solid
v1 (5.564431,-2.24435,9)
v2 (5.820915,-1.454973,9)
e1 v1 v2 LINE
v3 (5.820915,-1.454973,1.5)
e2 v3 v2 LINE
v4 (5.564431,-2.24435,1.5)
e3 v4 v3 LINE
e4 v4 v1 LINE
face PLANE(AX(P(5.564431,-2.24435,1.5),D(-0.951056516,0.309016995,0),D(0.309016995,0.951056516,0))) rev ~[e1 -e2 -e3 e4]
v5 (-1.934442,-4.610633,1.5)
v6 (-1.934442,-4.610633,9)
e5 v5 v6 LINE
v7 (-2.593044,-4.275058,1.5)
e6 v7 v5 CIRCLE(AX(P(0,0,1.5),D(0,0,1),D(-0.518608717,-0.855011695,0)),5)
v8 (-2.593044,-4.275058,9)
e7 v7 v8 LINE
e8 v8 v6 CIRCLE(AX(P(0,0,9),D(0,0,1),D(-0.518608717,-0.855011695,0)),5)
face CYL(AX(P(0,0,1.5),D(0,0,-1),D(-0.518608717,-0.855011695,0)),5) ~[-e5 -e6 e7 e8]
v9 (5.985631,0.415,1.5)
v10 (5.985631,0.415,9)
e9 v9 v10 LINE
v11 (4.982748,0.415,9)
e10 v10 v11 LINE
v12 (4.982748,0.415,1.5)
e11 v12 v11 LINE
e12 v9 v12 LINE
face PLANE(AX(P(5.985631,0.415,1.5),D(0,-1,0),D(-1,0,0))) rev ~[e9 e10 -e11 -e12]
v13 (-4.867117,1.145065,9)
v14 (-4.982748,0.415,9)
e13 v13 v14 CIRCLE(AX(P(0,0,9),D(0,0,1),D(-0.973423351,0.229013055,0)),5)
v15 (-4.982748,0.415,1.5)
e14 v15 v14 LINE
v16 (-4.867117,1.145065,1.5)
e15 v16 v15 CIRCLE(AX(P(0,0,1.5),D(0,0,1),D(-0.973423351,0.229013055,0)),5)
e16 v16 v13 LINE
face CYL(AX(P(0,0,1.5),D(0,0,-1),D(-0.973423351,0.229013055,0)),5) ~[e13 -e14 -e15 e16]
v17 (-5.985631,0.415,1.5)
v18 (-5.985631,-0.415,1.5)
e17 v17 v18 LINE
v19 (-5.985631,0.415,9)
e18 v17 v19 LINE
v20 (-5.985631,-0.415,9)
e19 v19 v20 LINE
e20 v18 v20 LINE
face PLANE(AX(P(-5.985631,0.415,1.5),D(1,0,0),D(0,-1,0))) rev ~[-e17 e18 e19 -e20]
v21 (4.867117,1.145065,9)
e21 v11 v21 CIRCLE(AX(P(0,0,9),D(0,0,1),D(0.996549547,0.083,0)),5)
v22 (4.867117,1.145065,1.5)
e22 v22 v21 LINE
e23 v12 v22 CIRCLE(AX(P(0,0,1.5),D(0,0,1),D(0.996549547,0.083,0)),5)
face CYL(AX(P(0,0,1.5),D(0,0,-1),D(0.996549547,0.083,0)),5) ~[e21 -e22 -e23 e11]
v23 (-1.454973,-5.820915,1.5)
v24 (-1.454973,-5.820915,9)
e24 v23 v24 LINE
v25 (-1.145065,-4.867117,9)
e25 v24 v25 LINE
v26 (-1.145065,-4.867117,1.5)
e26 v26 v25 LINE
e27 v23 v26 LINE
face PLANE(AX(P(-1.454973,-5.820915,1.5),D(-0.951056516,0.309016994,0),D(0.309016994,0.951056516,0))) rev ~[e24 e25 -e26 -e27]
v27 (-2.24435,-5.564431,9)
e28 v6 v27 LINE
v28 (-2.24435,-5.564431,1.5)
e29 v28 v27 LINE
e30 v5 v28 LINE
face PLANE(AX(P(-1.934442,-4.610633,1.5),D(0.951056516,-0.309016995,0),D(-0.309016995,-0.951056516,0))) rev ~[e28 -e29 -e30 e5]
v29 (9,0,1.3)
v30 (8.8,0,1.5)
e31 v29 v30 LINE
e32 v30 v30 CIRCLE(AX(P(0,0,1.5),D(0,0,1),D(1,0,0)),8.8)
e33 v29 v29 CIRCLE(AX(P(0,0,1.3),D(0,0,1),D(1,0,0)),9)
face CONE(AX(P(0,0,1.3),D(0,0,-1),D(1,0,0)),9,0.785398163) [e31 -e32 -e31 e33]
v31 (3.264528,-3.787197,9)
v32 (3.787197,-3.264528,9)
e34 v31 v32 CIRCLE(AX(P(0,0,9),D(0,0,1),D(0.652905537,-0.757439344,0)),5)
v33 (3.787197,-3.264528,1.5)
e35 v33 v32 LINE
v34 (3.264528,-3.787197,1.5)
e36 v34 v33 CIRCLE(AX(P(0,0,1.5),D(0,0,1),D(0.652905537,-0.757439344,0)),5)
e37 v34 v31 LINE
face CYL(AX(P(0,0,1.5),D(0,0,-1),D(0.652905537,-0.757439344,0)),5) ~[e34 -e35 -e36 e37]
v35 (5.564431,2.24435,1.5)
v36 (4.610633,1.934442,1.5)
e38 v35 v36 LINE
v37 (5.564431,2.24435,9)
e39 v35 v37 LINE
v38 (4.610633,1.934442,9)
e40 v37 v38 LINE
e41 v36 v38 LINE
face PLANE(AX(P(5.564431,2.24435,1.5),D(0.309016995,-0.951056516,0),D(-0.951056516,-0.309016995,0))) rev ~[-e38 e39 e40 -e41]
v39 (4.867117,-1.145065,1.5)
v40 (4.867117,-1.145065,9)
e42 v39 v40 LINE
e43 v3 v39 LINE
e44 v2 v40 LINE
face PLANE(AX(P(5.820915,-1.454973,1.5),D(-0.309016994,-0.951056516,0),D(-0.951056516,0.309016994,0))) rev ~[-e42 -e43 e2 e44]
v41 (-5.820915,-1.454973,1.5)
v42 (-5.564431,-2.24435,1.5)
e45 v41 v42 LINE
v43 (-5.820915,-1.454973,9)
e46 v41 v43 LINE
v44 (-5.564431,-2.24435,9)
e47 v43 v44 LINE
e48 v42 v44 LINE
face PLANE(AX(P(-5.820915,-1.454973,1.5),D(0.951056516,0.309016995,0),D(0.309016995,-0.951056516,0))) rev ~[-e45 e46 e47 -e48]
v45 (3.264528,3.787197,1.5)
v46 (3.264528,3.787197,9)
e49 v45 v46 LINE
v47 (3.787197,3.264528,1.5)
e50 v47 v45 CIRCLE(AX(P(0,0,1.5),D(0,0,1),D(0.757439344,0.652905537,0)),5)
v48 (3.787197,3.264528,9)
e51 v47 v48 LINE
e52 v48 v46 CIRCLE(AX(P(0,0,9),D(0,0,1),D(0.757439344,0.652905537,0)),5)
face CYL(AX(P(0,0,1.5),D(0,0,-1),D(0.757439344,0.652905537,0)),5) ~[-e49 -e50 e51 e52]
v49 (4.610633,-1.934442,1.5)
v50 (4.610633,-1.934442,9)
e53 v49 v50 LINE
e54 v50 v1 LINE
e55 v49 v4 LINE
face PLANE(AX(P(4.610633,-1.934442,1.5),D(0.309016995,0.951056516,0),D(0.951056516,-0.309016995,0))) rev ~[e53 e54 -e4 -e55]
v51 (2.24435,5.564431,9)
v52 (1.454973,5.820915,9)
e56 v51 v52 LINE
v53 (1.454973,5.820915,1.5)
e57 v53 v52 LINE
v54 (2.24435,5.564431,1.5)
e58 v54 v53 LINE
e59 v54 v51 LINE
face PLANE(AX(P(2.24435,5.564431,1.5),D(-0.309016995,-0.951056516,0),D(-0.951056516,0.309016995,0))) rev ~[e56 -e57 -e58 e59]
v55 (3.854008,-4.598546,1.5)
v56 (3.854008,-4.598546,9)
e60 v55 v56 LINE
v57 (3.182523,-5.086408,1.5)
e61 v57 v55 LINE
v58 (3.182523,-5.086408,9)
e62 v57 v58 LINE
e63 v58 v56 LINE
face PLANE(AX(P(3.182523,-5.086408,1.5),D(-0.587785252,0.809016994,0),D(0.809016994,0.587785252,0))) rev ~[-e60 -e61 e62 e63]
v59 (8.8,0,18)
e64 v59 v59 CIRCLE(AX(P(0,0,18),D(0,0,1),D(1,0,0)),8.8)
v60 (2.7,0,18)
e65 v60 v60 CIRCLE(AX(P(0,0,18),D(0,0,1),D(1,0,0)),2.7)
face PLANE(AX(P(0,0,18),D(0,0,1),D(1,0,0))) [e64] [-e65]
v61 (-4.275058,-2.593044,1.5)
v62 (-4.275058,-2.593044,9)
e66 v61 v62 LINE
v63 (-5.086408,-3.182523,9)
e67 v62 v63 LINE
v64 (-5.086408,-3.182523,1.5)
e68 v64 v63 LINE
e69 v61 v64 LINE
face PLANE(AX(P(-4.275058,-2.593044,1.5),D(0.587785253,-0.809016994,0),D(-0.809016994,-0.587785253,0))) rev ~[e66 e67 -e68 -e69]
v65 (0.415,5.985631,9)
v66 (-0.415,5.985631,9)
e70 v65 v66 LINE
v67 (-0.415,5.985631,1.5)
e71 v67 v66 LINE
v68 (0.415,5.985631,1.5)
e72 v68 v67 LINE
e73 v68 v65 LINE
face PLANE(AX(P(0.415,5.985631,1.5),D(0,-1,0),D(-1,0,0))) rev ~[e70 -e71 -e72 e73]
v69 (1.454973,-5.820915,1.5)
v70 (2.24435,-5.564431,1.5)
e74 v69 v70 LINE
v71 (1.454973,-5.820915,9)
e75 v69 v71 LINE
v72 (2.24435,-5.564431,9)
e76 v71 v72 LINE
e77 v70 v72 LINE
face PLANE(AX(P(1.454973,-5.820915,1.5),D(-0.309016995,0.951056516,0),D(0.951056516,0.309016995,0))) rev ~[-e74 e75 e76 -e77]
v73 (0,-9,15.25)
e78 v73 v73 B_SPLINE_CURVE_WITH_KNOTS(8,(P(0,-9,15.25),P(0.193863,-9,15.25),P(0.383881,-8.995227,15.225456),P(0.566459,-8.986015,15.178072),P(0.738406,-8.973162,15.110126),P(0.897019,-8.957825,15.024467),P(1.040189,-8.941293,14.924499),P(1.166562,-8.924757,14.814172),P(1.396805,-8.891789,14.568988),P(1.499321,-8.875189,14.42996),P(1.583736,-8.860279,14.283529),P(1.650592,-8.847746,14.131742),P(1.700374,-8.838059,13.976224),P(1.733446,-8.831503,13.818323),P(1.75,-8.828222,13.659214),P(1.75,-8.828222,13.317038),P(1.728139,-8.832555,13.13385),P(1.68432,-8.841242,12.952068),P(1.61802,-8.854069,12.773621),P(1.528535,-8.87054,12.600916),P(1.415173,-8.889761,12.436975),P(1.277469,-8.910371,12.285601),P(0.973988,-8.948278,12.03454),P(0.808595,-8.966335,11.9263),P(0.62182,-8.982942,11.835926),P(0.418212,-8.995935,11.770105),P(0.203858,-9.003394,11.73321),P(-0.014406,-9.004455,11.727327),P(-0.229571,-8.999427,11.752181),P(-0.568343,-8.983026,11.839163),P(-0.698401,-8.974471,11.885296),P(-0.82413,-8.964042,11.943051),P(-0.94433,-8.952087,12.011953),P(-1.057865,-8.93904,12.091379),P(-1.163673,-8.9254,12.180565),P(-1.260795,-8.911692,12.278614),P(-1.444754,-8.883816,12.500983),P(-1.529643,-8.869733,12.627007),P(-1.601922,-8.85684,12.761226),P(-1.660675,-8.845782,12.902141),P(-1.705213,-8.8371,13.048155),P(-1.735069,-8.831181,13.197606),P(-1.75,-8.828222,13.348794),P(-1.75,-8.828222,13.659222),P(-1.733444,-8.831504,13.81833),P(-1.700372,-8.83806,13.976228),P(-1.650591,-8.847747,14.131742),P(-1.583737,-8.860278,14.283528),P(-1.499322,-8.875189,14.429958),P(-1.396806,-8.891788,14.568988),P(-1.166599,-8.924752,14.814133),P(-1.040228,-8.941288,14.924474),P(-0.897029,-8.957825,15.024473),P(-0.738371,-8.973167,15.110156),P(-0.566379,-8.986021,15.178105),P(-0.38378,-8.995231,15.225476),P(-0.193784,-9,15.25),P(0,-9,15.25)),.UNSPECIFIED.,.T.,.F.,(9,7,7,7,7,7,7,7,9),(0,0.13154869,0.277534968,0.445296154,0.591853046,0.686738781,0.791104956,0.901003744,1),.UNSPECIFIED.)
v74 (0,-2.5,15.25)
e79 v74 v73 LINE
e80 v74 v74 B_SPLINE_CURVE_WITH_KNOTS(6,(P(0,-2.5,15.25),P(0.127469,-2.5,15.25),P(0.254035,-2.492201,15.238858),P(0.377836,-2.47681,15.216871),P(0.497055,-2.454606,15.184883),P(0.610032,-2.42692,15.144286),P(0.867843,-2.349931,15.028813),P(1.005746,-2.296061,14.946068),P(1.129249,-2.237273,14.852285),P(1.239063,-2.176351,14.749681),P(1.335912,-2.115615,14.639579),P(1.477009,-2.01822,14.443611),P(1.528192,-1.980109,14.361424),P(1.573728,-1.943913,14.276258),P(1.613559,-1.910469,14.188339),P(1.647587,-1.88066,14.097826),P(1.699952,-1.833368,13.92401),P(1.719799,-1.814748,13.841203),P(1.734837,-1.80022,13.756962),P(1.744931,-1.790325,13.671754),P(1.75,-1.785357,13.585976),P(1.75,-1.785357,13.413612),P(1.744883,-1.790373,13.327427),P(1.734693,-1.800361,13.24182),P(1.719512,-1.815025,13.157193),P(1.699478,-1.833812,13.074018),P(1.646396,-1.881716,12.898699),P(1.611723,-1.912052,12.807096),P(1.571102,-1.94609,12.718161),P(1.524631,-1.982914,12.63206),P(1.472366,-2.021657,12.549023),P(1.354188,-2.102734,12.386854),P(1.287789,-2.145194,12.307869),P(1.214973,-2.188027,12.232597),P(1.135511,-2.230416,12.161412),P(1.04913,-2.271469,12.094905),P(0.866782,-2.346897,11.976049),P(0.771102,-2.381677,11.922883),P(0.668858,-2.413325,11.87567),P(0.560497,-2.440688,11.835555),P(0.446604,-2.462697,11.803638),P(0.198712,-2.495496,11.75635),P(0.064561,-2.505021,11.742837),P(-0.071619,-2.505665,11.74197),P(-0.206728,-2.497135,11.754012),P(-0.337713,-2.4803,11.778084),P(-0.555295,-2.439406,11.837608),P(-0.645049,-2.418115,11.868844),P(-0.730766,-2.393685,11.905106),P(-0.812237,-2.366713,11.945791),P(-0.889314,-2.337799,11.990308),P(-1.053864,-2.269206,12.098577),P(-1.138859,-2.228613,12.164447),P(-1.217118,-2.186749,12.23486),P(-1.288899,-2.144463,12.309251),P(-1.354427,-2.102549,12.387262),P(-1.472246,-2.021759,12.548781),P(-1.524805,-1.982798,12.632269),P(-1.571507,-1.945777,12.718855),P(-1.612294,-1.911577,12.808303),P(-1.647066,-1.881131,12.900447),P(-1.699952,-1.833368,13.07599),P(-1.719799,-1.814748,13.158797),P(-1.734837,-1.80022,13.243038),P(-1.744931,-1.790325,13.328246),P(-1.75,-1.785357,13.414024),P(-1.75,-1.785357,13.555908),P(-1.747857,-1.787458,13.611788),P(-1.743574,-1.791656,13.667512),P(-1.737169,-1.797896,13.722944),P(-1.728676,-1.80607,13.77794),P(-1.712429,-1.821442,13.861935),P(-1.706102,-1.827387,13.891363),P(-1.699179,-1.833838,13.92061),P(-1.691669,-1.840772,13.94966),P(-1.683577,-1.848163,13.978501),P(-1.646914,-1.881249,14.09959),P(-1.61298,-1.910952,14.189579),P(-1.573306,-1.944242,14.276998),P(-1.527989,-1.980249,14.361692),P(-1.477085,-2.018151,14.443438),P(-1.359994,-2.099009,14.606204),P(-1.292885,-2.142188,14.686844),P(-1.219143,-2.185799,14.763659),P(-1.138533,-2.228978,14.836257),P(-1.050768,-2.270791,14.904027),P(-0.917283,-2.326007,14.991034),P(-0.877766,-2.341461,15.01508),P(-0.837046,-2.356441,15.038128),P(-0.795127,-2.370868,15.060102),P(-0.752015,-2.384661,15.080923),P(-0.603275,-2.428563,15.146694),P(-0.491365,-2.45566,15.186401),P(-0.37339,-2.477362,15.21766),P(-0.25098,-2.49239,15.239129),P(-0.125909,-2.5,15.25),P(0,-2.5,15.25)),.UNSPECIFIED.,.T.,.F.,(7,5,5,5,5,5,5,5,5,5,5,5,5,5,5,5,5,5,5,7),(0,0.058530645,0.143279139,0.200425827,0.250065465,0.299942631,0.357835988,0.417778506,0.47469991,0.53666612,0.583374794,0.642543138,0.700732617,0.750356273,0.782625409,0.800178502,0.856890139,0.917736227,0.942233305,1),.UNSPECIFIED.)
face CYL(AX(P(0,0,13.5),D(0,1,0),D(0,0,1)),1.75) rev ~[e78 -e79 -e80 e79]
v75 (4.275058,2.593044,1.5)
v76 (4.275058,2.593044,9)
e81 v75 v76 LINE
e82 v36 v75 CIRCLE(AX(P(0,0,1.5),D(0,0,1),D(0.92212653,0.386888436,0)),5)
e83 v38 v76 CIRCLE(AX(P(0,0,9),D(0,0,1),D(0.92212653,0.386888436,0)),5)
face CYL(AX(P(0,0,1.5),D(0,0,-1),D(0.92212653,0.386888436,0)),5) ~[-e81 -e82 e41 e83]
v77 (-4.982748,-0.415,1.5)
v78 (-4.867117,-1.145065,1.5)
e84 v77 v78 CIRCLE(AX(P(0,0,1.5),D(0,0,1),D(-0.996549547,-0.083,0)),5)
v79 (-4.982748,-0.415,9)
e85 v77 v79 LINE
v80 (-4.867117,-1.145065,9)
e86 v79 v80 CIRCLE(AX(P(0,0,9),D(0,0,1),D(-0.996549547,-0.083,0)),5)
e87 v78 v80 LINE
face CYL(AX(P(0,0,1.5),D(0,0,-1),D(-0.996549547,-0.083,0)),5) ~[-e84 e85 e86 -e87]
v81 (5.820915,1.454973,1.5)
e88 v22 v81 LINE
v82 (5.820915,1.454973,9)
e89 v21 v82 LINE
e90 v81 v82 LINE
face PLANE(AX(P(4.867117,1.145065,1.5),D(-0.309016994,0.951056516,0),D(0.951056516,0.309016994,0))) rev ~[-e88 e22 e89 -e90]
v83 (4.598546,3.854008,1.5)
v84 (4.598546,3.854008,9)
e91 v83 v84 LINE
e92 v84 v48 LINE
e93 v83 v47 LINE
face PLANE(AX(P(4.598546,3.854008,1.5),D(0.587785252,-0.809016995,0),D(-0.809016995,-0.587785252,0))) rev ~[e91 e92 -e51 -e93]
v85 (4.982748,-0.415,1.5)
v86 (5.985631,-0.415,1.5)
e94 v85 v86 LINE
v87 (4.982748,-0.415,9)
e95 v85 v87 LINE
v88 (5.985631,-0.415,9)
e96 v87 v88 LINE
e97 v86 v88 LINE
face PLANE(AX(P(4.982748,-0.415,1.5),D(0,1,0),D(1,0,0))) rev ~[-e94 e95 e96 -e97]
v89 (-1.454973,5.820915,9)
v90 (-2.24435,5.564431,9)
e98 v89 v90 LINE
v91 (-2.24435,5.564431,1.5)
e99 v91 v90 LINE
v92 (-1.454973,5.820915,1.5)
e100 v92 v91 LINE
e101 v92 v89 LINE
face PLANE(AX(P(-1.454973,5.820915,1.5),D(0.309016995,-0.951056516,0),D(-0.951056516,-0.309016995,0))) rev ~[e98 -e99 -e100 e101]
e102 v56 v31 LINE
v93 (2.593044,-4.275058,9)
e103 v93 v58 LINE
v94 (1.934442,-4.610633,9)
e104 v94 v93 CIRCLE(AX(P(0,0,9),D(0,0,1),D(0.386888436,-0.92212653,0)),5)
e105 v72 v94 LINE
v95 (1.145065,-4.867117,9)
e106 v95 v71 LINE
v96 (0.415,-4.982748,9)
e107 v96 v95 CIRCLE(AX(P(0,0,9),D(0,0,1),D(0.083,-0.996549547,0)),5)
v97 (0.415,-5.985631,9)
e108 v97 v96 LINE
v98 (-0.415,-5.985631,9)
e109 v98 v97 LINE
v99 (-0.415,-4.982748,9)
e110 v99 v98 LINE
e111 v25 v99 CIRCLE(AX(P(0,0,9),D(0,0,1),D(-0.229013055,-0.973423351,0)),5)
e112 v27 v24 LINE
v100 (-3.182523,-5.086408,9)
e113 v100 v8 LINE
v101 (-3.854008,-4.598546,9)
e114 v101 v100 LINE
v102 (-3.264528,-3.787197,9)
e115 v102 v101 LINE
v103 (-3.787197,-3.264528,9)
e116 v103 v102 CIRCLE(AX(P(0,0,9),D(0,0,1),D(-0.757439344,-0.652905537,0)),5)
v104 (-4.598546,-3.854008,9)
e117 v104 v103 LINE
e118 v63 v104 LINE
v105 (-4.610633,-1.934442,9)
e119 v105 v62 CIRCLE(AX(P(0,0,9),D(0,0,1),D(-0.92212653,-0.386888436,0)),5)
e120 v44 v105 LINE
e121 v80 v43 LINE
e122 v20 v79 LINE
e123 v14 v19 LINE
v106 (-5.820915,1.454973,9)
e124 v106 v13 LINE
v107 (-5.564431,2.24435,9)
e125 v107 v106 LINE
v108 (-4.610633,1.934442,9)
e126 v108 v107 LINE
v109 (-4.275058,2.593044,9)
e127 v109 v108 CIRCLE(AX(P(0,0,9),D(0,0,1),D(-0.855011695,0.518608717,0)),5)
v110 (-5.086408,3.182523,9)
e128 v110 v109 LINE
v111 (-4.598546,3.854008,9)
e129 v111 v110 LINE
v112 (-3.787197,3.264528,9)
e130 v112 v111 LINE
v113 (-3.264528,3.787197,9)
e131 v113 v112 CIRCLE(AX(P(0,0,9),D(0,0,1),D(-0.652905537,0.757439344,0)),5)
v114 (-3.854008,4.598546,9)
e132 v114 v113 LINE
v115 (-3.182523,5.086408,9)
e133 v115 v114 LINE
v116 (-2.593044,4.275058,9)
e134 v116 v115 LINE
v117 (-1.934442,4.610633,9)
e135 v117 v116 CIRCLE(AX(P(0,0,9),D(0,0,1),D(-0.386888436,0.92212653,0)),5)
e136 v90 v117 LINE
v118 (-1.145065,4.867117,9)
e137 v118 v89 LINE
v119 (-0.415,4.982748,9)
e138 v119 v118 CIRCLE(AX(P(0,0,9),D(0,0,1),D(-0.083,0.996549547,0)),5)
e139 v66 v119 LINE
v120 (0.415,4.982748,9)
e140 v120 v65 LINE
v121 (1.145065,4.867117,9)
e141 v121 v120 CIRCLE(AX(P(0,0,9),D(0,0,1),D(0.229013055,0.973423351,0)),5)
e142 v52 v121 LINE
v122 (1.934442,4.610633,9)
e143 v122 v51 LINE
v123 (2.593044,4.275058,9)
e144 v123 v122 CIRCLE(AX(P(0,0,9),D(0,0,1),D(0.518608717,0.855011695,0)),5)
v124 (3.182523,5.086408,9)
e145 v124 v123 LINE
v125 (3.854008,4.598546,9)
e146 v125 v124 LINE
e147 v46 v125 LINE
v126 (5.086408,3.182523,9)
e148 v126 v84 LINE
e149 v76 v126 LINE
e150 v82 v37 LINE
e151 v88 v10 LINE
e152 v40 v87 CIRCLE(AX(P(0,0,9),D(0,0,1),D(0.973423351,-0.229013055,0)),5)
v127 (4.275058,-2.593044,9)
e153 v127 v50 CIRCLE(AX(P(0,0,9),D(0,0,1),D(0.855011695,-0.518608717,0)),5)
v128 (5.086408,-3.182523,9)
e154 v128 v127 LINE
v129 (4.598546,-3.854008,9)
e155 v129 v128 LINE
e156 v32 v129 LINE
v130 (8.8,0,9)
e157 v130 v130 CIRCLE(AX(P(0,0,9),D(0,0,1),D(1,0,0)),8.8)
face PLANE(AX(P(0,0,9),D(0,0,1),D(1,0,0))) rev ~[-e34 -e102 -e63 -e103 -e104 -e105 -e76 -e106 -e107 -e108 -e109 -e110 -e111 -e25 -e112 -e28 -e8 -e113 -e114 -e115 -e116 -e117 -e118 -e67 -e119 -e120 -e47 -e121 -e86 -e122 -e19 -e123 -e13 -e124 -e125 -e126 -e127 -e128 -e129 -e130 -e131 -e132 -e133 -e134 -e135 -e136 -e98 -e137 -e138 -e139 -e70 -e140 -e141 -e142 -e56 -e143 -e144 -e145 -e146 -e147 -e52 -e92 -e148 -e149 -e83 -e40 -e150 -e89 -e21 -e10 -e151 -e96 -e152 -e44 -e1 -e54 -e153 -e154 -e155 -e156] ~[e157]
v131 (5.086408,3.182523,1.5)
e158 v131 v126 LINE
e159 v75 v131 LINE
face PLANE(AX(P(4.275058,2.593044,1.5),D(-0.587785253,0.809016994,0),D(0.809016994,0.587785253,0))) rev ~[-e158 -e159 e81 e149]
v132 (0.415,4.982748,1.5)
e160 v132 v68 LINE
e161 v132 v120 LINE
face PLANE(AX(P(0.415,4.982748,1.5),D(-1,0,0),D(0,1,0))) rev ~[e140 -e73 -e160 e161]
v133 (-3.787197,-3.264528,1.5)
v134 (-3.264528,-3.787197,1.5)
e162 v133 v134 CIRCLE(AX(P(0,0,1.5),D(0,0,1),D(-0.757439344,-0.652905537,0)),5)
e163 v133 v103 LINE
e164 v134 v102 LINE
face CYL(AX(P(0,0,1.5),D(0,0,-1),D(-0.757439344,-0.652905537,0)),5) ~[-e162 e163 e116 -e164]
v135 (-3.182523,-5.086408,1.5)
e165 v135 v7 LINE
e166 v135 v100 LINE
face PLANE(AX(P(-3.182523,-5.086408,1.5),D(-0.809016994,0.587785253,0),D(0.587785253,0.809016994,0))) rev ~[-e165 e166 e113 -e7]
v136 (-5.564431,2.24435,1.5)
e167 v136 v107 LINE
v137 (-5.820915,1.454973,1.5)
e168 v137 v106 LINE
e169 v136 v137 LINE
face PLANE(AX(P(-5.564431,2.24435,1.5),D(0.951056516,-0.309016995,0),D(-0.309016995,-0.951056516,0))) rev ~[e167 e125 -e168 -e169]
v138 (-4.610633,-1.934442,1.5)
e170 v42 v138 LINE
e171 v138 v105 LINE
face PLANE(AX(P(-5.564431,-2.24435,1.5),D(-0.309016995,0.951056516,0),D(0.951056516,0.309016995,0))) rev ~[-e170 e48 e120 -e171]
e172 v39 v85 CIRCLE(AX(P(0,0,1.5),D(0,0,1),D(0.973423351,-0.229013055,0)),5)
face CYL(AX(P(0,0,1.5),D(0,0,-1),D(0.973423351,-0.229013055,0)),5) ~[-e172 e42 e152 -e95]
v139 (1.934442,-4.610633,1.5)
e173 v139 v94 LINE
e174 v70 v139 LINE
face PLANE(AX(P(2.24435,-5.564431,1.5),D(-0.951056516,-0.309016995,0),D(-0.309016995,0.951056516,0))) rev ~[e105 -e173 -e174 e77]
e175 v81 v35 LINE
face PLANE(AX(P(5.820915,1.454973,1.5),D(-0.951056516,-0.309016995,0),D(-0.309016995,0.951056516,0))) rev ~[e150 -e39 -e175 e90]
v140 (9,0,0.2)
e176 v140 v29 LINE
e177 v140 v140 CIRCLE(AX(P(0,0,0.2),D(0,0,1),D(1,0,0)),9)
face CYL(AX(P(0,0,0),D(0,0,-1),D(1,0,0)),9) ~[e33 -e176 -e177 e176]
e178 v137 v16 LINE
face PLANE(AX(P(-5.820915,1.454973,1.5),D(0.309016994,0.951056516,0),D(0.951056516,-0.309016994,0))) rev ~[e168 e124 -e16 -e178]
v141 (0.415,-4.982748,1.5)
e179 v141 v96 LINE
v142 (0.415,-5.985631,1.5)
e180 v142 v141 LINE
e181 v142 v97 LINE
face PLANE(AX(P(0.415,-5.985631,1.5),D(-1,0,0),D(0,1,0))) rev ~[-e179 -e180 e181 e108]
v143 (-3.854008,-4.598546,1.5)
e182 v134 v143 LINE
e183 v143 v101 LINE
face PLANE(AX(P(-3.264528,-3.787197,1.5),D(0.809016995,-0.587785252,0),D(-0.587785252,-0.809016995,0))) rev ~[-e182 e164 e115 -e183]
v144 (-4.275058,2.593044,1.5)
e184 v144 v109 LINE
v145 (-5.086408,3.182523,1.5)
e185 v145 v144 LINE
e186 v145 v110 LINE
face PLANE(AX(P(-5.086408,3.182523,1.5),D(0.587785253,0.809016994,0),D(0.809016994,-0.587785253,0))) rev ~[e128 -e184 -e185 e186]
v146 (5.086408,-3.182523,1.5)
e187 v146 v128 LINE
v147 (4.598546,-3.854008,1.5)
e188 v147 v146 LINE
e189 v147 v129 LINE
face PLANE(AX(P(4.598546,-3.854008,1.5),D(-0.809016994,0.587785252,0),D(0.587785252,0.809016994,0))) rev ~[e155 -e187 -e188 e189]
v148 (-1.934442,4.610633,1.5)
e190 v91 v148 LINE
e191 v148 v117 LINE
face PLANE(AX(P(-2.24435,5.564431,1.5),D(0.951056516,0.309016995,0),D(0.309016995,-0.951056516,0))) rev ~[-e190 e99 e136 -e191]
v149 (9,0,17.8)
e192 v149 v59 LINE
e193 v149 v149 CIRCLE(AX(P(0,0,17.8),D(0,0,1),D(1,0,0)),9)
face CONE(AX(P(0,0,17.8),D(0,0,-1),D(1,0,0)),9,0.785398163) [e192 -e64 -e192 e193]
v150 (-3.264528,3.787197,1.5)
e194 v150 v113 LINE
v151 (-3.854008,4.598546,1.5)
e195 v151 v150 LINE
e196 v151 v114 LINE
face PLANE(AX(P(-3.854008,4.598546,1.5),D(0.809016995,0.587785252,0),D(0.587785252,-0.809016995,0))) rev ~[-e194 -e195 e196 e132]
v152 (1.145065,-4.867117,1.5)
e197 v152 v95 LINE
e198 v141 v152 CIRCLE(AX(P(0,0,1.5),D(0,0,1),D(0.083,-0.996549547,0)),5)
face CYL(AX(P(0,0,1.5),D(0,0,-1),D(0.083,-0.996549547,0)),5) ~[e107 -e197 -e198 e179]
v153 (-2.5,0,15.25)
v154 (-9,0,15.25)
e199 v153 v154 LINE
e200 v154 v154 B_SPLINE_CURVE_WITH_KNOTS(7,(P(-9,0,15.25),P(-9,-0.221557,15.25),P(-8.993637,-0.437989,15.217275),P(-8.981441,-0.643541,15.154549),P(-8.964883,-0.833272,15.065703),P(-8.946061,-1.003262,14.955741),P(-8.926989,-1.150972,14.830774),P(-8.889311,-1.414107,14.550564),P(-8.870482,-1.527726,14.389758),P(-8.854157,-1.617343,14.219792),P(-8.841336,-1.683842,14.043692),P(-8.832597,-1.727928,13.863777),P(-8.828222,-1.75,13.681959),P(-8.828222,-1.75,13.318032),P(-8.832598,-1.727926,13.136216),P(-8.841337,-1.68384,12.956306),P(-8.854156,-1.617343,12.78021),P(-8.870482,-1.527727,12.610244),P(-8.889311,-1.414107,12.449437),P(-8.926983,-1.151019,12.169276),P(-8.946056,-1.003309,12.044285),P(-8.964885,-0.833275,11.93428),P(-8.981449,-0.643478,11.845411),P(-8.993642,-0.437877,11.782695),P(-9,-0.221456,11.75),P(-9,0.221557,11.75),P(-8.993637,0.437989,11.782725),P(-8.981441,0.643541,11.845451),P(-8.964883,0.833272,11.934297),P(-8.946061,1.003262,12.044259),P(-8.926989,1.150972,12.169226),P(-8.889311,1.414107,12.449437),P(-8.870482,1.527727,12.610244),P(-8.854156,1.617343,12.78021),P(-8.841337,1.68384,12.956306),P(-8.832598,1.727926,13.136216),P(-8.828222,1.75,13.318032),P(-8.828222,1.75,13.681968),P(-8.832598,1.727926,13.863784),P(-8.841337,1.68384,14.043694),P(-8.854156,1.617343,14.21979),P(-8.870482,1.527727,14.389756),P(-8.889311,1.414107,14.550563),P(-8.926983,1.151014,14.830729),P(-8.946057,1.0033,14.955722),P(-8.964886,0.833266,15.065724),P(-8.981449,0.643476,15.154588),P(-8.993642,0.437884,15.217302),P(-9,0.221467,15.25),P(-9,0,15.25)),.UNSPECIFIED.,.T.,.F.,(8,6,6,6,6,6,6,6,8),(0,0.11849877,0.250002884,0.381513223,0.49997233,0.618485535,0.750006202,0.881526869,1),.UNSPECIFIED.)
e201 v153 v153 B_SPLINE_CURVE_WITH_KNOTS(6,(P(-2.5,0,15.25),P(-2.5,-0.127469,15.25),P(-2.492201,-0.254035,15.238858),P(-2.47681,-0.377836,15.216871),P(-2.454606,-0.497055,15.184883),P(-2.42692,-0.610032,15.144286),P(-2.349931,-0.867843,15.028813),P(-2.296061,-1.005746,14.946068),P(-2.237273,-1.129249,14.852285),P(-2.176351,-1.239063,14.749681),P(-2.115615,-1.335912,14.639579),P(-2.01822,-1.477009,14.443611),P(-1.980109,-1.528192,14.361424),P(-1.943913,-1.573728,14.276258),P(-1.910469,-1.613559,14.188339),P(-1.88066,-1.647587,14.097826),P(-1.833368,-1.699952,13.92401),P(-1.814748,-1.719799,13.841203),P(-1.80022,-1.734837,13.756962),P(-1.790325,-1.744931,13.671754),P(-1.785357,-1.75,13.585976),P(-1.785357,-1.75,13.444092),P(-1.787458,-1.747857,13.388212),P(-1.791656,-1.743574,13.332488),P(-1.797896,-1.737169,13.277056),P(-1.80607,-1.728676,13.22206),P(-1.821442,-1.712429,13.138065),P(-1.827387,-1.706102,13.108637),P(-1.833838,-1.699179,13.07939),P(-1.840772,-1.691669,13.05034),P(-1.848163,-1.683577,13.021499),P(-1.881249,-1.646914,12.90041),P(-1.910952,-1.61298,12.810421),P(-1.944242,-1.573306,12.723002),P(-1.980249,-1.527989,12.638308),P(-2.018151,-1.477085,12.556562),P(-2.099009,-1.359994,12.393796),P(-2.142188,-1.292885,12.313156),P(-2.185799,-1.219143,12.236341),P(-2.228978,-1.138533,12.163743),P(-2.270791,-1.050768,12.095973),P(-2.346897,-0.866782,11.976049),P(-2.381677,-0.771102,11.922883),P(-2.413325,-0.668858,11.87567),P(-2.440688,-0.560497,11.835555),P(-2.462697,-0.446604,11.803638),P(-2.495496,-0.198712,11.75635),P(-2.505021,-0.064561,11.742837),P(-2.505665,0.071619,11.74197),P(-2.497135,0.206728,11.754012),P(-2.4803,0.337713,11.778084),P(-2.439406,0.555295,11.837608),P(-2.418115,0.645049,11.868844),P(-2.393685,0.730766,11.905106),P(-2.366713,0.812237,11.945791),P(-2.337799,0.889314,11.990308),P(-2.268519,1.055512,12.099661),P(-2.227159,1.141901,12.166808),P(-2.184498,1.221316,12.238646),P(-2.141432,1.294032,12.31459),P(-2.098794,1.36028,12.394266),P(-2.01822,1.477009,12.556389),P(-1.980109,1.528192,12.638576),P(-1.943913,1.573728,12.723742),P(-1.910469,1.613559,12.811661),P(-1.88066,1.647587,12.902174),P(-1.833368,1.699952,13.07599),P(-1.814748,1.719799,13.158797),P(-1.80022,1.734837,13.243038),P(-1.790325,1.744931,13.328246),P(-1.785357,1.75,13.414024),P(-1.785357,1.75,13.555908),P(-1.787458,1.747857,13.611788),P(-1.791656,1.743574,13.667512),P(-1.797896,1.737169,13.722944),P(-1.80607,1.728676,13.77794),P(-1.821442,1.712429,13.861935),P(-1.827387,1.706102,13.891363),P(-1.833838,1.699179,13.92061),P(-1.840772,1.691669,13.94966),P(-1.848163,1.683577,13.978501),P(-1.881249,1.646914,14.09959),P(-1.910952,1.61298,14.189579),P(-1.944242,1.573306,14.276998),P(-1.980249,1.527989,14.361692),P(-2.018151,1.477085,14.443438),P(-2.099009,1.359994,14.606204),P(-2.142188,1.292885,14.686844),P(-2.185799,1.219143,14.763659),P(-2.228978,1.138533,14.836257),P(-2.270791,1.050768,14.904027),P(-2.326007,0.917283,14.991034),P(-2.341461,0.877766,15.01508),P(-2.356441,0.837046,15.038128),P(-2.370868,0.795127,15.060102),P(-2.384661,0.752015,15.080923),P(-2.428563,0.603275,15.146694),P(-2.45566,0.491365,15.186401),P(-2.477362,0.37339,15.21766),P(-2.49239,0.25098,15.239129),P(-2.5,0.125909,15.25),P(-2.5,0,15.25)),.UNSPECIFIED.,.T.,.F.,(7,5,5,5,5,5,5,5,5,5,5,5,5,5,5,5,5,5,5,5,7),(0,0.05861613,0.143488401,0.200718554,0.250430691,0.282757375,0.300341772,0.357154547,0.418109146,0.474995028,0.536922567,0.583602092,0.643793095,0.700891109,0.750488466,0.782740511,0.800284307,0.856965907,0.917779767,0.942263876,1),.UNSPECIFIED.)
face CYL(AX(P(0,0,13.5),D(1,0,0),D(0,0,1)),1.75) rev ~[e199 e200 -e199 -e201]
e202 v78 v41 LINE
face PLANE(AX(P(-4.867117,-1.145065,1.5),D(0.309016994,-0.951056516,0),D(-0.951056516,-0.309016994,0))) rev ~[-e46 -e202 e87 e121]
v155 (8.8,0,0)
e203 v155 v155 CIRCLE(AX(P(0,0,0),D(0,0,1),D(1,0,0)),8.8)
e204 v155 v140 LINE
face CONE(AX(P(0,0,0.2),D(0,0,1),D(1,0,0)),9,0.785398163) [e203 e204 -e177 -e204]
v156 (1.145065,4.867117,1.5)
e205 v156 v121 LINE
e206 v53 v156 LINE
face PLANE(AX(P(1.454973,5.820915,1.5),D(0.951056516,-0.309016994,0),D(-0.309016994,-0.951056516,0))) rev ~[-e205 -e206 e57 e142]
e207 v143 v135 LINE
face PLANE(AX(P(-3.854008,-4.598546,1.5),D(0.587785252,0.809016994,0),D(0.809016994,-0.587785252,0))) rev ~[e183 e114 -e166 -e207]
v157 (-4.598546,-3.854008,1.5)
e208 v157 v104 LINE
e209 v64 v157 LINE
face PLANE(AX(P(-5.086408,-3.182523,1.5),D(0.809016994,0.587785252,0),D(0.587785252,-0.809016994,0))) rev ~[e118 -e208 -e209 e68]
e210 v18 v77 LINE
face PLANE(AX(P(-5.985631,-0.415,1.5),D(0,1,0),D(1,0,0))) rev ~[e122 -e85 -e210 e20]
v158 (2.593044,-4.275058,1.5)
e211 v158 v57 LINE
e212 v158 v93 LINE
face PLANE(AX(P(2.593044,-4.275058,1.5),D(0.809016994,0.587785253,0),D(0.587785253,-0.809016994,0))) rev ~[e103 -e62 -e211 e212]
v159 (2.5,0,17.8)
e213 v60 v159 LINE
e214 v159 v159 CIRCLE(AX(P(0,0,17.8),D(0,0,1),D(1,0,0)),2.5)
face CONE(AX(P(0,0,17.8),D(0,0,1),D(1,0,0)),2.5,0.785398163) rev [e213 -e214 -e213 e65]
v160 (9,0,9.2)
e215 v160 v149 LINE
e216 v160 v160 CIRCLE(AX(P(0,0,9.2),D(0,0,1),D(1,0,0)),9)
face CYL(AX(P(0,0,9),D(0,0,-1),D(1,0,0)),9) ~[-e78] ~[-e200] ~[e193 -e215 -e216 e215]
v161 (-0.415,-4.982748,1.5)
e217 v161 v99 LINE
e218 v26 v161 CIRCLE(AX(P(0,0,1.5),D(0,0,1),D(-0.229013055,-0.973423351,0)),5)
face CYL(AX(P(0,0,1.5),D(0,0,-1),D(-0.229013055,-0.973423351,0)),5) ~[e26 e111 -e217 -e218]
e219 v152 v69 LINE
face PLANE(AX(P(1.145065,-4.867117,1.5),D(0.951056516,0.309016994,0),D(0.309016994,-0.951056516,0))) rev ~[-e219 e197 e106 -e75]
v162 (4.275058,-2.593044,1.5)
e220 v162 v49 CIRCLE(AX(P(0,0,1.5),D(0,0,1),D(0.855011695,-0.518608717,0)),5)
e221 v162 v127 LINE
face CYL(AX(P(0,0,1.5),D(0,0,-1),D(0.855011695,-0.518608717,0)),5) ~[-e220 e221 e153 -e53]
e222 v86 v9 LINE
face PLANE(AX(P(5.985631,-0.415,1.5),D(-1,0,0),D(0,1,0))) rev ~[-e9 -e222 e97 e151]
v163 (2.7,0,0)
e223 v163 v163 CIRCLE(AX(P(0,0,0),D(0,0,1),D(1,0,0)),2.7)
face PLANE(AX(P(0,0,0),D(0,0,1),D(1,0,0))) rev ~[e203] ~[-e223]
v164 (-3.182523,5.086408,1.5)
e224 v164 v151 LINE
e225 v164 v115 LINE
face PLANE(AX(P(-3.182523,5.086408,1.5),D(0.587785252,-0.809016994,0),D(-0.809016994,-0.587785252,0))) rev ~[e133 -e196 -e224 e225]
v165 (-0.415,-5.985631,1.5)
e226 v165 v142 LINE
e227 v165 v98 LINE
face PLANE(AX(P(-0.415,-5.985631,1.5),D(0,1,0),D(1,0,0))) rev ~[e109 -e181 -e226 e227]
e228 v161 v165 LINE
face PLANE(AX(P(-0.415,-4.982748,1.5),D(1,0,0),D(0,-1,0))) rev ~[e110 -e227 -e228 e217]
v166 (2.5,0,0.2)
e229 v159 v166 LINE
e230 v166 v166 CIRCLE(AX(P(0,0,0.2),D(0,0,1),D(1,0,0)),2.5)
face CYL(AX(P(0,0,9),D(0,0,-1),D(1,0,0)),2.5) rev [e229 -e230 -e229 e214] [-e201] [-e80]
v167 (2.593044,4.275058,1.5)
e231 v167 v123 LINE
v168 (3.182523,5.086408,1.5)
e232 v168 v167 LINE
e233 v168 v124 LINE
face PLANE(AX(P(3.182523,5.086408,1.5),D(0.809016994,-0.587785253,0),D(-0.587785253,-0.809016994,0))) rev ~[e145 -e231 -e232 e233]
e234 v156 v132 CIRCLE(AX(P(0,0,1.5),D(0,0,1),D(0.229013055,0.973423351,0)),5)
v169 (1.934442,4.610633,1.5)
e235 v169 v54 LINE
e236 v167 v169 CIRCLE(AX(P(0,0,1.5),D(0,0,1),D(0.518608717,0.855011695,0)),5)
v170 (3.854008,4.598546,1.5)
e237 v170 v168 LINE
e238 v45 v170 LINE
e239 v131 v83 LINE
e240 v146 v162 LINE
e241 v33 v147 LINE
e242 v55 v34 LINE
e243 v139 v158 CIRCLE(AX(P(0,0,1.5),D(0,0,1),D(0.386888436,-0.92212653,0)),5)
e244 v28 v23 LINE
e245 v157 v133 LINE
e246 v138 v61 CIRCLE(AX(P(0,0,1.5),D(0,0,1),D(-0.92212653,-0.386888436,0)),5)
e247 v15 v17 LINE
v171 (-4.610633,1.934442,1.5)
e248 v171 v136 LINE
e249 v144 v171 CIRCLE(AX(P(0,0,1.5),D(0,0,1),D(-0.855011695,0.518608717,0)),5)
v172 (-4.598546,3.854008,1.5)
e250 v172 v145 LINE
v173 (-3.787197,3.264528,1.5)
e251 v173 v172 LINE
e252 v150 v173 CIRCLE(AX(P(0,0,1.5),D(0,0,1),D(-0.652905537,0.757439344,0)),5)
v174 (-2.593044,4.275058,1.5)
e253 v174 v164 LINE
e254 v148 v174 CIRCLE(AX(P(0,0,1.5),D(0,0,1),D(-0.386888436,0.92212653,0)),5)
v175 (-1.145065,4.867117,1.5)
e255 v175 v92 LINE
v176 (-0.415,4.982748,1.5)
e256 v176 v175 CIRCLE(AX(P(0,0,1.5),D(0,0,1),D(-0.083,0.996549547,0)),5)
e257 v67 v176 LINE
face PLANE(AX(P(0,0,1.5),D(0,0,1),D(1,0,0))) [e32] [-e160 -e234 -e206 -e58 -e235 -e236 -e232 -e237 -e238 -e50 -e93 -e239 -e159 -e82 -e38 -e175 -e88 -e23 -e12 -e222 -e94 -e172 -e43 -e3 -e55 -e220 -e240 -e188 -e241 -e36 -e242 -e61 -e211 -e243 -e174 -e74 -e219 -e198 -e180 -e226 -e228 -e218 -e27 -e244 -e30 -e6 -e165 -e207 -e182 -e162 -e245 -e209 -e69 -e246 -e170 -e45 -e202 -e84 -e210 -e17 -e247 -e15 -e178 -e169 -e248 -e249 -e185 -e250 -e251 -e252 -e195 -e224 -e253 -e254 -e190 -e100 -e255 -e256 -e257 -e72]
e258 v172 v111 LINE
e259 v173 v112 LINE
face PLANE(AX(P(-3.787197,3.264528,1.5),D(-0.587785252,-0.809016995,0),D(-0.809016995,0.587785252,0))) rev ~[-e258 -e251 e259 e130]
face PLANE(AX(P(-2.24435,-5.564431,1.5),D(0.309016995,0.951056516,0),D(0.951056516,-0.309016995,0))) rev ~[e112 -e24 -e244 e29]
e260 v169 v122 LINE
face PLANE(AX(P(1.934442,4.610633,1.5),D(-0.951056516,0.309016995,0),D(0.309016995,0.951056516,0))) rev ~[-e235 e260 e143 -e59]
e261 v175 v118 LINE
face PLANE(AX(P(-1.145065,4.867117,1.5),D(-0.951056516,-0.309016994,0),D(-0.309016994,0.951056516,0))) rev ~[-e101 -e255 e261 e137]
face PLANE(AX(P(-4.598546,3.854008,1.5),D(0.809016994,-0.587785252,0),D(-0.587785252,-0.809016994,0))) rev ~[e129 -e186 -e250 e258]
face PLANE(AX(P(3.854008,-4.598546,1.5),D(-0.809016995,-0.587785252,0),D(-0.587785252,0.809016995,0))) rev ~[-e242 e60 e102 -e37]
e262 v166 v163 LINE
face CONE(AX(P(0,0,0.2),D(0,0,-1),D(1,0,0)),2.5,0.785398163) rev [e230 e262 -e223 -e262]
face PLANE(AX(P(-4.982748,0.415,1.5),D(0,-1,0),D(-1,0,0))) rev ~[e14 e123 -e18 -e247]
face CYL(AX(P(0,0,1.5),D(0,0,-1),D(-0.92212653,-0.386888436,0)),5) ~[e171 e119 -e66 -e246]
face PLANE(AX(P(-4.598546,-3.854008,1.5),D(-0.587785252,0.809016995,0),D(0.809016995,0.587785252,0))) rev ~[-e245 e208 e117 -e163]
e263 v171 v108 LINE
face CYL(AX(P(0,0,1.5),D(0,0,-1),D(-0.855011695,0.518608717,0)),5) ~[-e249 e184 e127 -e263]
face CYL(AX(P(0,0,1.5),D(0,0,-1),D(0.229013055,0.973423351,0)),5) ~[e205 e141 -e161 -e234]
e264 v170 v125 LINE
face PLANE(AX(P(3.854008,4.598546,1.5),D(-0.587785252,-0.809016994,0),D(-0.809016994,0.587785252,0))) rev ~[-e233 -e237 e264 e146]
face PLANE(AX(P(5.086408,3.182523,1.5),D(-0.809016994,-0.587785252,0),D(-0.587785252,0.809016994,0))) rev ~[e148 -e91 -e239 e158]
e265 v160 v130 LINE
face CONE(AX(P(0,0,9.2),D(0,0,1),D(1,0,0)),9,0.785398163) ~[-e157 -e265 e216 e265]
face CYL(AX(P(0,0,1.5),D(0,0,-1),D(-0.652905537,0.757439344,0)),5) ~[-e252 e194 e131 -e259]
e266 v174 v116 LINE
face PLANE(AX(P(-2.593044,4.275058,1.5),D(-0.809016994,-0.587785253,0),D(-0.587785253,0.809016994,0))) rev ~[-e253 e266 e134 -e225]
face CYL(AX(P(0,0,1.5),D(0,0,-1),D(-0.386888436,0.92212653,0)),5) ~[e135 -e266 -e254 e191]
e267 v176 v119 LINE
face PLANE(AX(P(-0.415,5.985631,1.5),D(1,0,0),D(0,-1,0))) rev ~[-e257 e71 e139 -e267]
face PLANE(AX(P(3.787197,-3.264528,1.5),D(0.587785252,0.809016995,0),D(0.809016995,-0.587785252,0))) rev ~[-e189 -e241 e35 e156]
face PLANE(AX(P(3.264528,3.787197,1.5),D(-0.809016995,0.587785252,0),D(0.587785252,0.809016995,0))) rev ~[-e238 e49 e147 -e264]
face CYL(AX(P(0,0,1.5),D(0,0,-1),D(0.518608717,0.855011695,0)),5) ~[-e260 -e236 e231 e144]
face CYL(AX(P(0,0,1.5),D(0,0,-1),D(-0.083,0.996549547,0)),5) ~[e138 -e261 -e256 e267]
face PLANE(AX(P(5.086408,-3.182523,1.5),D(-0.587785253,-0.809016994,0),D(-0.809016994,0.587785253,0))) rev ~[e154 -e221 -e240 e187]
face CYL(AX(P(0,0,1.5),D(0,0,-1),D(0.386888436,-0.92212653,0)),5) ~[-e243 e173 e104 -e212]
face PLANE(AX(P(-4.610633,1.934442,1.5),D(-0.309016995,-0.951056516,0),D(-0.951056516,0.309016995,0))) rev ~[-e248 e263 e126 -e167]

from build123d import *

# Parameters (mm, degrees)
SKETCH_1_R          = 9
SKETCH_1_R_2        = 2.5
EXTRUDE_1_DEPTH     = 1.5
SKETCH_2_R          = 2.5
EXTRUDE_2_DEPTH     = 7.5
SKETCH_3_R          = 9
SKETCH_3_R_2        = 2.5
EXTRUDE_3_DEPTH     = 9
CHAMFER_2_SIZE      = 0.2
SKETCH_4_R          = 1.75
CUT_EXTRUDE_1_DEPTH = 10
SKETCH_5_R          = 1.75
CUT_EXTRUDE_2_DEPTH = 10


with BuildPart() as part:
    # 草图1 → 凸台-拉伸1 (new body)
    with BuildSketch(Plane.XY):
        Circle(SKETCH_1_R)
        Circle(SKETCH_1_R_2, mode=Mode.SUBTRACT)
    extrude(amount=EXTRUDE_1_DEPTH)

    # 草图2 → 凸台-拉伸2 (add)
    with BuildSketch(Plane.XY.offset(1.5)):
        with BuildLine():
            Line((-0.415, 5.98563071), (-0.415, 4.982747736))
            ThreePointArc((-0.415, 4.982747736), (-0.782172325, 4.938441703), (-1.145065275, 4.867116756))
            Line((-1.145065275, 4.867116756), (-1.454973157, 5.820915144))
            Line((-1.454973157, 5.820915144), (-2.244350066, 5.564431038))
            Line((-2.244350066, 5.564431038), (-1.934442183, 4.610632651))
            ThreePointArc((-1.934442183, 4.610632651), (-2.269952499, 4.455032621), (-2.593043582, 4.275058477))
            Line((-2.593043582, 4.275058477), (-3.182523405, 5.086407846))
            Line((-3.182523405, 5.086407846), (-3.85400751, 4.598546087))
            Line((-3.85400751, 4.598546087), (-3.264527688, 3.787196717))
            ThreePointArc((-3.264527688, 3.787196717), (-3.535533906, 3.535533906), (-3.787196717, 3.264527688))
            Line((-3.787196717, 3.264527688), (-4.598546087, 3.85400751))
            Line((-4.598546087, 3.85400751), (-5.086407846, 3.182523405))
            Line((-5.086407846, 3.182523405), (-4.275058477, 2.593043582))
            ThreePointArc((-4.275058477, 2.593043582), (-4.455032621, 2.269952499), (-4.610632651, 1.934442183))
            Line((-4.610632651, 1.934442183), (-5.564431038, 2.244350066))
            Line((-5.564431038, 2.244350066), (-5.820915144, 1.454973157))
            Line((-5.820915144, 1.454973157), (-4.867116756, 1.145065275))
            ThreePointArc((-4.867116756, 1.145065275), (-4.938441703, 0.782172325), (-4.982747736, 0.415))
            Line((-4.982747736, 0.415), (-5.98563071, 0.415))
            Line((-5.98563071, 0.415), (-5.98563071, -0.415))
            Line((-5.98563071, -0.415), (-4.982747736, -0.415))
            ThreePointArc((-4.982747736, -0.415), (-4.938441703, -0.782172325), (-4.867116756, -1.145065275))
            Line((-4.867116756, -1.145065275), (-5.820915144, -1.454973157))
            Line((-5.820915144, -1.454973157), (-5.564431038, -2.244350066))
            Line((-5.564431038, -2.244350066), (-4.610632651, -1.934442183))
            ThreePointArc((-4.610632651, -1.934442183), (-4.455032621, -2.269952499), (-4.275058477, -2.593043582))
            Line((-4.275058477, -2.593043582), (-5.086407846, -3.182523405))
            Line((-5.086407846, -3.182523405), (-4.598546087, -3.85400751))
            Line((-4.598546087, -3.85400751), (-3.787196717, -3.264527688))
            ThreePointArc((-3.787196717, -3.264527688), (-3.535533906, -3.535533906), (-3.264527688, -3.787196717))
            Line((-3.264527688, -3.787196717), (-3.85400751, -4.598546087))
            Line((-3.85400751, -4.598546087), (-3.182523405, -5.086407846))
            Line((-3.182523405, -5.086407846), (-2.593043582, -4.275058477))
            ThreePointArc((-2.593043582, -4.275058477), (-2.269952499, -4.455032621), (-1.934442183, -4.610632651))
            Line((-1.934442183, -4.610632651), (-2.244350066, -5.564431038))
            Line((-2.244350066, -5.564431038), (-1.454973157, -5.820915144))
            Line((-1.454973157, -5.820915144), (-1.145065275, -4.867116756))
            ThreePointArc((-1.145065275, -4.867116756), (-0.782172325, -4.938441703), (-0.415, -4.982747736))
            Line((-0.415, -4.982747736), (-0.415, -5.98563071))
            Line((-0.415, -5.98563071), (0.415, -5.98563071))
            Line((0.415, -5.98563071), (0.415, -4.982747736))
            ThreePointArc((0.415, -4.982747736), (0.782172325, -4.938441703), (1.145065275, -4.867116756))
            Line((1.145065275, -4.867116756), (1.454973157, -5.820915144))
            Line((1.454973157, -5.820915144), (2.244350066, -5.564431038))
            Line((2.244350066, -5.564431038), (1.934442183, -4.610632651))
            ThreePointArc((1.934442183, -4.610632651), (2.269952499, -4.455032621), (2.593043582, -4.275058477))
            Line((2.593043582, -4.275058477), (3.182523405, -5.086407846))
            Line((3.182523405, -5.086407846), (3.85400751, -4.598546087))
            Line((3.85400751, -4.598546087), (3.264527688, -3.787196717))
            ThreePointArc((3.264527688, -3.787196717), (3.535533906, -3.535533906), (3.787196717, -3.264527688))
            Line((3.787196717, -3.264527688), (4.598546087, -3.85400751))
            Line((4.598546087, -3.85400751), (5.086407846, -3.182523405))
            Line((5.086407846, -3.182523405), (4.275058477, -2.593043582))
            ThreePointArc((4.275058477, -2.593043582), (4.455032621, -2.269952499), (4.610632651, -1.934442183))
            Line((4.610632651, -1.934442183), (5.564431038, -2.244350066))
            Line((5.564431038, -2.244350066), (5.820915144, -1.454973157))
            Line((5.820915144, -1.454973157), (4.867116756, -1.145065275))
            ThreePointArc((4.867116756, -1.145065275), (4.938441703, -0.782172325), (4.982747736, -0.415))
            Line((4.982747736, -0.415), (5.98563071, -0.415))
            Line((5.98563071, -0.415), (5.98563071, 0.415))
            Line((5.98563071, 0.415), (4.982747736, 0.415))
            ThreePointArc((4.982747736, 0.415), (4.938441703, 0.782172325), (4.867116756, 1.145065275))
            Line((4.867116756, 1.145065275), (5.820915144, 1.454973157))
            Line((5.820915144, 1.454973157), (5.564431038, 2.244350066))
            Line((5.564431038, 2.244350066), (4.610632651, 1.934442183))
            ThreePointArc((4.610632651, 1.934442183), (4.455032621, 2.269952499), (4.275058477, 2.593043582))
            Line((4.275058477, 2.593043582), (5.086407846, 3.182523405))
            Line((5.086407846, 3.182523405), (4.598546087, 3.85400751))
            Line((4.598546087, 3.85400751), (3.787196717, 3.264527688))
            ThreePointArc((3.787196717, 3.264527688), (3.535533906, 3.535533906), (3.264527688, 3.787196717))
            Line((3.264527688, 3.787196717), (3.85400751, 4.598546087))
            Line((3.85400751, 4.598546087), (3.182523405, 5.086407846))
            Line((3.182523405, 5.086407846), (2.593043582, 4.275058477))
            ThreePointArc((2.593043582, 4.275058477), (2.269952499, 4.455032621), (1.934442183, 4.610632651))
            Line((1.934442183, 4.610632651), (2.244350066, 5.564431038))
            Line((2.244350066, 5.564431038), (1.454973157, 5.820915144))
            Line((1.454973157, 5.820915144), (1.145065275, 4.867116756))
            ThreePointArc((1.145065275, 4.867116756), (0.782172325, 4.938441703), (0.415, 4.982747736))
            Line((0.415, 4.982747736), (0.415, 5.98563071))
            Line((0.415, 5.98563071), (-0.415, 5.98563071))
        make_face()
        Circle(SKETCH_2_R, mode=Mode.SUBTRACT)
    extrude(amount=EXTRUDE_2_DEPTH)

    # 草图3 → 凸台-拉伸3 (add)
    with BuildSketch(Plane.XY.offset(9)):
        Circle(SKETCH_3_R)
        Circle(SKETCH_3_R_2, mode=Mode.SUBTRACT)
    extrude(amount=EXTRUDE_3_DEPTH)

    # 倒角2
    chamfer_2_edges = [part.edges().sort_by_distance(p)[0] for p in [
        (-9, 0, 0),
        (-9, 0, 18),
        (-9, 0, 9),
        (-2.5, 0, 18),
        (-9, 0, 1.5),
        (-2.5, 0, 0),
    ]]
    chamfer(chamfer_2_edges, length=CHAMFER_2_SIZE)

    # 草图4 → 切除-拉伸1 (cut)
    with BuildSketch(Plane(origin=(0, 0, 0), x_dir=(1, 0, 0), z_dir=(0, 1, 0))):
        with Locations(Location((0, -13.5, 0), (0, 0, 270))):
            Circle(SKETCH_4_R)
    extrude(amount=-CUT_EXTRUDE_1_DEPTH, mode=Mode.SUBTRACT)

    # 草图5 → 切除-拉伸2 (cut)
    with BuildSketch(Plane(origin=(0, 0, 0), x_dir=(0, 0, -1), z_dir=(1, 0, 0))):
        with Locations(Location((-13.5, 0, 0), (0, 0, 180))):
            Circle(SKETCH_5_R)
    extrude(amount=-CUT_EXTRUDE_2_DEPTH, mode=Mode.SUBTRACT)


solid = part.part
